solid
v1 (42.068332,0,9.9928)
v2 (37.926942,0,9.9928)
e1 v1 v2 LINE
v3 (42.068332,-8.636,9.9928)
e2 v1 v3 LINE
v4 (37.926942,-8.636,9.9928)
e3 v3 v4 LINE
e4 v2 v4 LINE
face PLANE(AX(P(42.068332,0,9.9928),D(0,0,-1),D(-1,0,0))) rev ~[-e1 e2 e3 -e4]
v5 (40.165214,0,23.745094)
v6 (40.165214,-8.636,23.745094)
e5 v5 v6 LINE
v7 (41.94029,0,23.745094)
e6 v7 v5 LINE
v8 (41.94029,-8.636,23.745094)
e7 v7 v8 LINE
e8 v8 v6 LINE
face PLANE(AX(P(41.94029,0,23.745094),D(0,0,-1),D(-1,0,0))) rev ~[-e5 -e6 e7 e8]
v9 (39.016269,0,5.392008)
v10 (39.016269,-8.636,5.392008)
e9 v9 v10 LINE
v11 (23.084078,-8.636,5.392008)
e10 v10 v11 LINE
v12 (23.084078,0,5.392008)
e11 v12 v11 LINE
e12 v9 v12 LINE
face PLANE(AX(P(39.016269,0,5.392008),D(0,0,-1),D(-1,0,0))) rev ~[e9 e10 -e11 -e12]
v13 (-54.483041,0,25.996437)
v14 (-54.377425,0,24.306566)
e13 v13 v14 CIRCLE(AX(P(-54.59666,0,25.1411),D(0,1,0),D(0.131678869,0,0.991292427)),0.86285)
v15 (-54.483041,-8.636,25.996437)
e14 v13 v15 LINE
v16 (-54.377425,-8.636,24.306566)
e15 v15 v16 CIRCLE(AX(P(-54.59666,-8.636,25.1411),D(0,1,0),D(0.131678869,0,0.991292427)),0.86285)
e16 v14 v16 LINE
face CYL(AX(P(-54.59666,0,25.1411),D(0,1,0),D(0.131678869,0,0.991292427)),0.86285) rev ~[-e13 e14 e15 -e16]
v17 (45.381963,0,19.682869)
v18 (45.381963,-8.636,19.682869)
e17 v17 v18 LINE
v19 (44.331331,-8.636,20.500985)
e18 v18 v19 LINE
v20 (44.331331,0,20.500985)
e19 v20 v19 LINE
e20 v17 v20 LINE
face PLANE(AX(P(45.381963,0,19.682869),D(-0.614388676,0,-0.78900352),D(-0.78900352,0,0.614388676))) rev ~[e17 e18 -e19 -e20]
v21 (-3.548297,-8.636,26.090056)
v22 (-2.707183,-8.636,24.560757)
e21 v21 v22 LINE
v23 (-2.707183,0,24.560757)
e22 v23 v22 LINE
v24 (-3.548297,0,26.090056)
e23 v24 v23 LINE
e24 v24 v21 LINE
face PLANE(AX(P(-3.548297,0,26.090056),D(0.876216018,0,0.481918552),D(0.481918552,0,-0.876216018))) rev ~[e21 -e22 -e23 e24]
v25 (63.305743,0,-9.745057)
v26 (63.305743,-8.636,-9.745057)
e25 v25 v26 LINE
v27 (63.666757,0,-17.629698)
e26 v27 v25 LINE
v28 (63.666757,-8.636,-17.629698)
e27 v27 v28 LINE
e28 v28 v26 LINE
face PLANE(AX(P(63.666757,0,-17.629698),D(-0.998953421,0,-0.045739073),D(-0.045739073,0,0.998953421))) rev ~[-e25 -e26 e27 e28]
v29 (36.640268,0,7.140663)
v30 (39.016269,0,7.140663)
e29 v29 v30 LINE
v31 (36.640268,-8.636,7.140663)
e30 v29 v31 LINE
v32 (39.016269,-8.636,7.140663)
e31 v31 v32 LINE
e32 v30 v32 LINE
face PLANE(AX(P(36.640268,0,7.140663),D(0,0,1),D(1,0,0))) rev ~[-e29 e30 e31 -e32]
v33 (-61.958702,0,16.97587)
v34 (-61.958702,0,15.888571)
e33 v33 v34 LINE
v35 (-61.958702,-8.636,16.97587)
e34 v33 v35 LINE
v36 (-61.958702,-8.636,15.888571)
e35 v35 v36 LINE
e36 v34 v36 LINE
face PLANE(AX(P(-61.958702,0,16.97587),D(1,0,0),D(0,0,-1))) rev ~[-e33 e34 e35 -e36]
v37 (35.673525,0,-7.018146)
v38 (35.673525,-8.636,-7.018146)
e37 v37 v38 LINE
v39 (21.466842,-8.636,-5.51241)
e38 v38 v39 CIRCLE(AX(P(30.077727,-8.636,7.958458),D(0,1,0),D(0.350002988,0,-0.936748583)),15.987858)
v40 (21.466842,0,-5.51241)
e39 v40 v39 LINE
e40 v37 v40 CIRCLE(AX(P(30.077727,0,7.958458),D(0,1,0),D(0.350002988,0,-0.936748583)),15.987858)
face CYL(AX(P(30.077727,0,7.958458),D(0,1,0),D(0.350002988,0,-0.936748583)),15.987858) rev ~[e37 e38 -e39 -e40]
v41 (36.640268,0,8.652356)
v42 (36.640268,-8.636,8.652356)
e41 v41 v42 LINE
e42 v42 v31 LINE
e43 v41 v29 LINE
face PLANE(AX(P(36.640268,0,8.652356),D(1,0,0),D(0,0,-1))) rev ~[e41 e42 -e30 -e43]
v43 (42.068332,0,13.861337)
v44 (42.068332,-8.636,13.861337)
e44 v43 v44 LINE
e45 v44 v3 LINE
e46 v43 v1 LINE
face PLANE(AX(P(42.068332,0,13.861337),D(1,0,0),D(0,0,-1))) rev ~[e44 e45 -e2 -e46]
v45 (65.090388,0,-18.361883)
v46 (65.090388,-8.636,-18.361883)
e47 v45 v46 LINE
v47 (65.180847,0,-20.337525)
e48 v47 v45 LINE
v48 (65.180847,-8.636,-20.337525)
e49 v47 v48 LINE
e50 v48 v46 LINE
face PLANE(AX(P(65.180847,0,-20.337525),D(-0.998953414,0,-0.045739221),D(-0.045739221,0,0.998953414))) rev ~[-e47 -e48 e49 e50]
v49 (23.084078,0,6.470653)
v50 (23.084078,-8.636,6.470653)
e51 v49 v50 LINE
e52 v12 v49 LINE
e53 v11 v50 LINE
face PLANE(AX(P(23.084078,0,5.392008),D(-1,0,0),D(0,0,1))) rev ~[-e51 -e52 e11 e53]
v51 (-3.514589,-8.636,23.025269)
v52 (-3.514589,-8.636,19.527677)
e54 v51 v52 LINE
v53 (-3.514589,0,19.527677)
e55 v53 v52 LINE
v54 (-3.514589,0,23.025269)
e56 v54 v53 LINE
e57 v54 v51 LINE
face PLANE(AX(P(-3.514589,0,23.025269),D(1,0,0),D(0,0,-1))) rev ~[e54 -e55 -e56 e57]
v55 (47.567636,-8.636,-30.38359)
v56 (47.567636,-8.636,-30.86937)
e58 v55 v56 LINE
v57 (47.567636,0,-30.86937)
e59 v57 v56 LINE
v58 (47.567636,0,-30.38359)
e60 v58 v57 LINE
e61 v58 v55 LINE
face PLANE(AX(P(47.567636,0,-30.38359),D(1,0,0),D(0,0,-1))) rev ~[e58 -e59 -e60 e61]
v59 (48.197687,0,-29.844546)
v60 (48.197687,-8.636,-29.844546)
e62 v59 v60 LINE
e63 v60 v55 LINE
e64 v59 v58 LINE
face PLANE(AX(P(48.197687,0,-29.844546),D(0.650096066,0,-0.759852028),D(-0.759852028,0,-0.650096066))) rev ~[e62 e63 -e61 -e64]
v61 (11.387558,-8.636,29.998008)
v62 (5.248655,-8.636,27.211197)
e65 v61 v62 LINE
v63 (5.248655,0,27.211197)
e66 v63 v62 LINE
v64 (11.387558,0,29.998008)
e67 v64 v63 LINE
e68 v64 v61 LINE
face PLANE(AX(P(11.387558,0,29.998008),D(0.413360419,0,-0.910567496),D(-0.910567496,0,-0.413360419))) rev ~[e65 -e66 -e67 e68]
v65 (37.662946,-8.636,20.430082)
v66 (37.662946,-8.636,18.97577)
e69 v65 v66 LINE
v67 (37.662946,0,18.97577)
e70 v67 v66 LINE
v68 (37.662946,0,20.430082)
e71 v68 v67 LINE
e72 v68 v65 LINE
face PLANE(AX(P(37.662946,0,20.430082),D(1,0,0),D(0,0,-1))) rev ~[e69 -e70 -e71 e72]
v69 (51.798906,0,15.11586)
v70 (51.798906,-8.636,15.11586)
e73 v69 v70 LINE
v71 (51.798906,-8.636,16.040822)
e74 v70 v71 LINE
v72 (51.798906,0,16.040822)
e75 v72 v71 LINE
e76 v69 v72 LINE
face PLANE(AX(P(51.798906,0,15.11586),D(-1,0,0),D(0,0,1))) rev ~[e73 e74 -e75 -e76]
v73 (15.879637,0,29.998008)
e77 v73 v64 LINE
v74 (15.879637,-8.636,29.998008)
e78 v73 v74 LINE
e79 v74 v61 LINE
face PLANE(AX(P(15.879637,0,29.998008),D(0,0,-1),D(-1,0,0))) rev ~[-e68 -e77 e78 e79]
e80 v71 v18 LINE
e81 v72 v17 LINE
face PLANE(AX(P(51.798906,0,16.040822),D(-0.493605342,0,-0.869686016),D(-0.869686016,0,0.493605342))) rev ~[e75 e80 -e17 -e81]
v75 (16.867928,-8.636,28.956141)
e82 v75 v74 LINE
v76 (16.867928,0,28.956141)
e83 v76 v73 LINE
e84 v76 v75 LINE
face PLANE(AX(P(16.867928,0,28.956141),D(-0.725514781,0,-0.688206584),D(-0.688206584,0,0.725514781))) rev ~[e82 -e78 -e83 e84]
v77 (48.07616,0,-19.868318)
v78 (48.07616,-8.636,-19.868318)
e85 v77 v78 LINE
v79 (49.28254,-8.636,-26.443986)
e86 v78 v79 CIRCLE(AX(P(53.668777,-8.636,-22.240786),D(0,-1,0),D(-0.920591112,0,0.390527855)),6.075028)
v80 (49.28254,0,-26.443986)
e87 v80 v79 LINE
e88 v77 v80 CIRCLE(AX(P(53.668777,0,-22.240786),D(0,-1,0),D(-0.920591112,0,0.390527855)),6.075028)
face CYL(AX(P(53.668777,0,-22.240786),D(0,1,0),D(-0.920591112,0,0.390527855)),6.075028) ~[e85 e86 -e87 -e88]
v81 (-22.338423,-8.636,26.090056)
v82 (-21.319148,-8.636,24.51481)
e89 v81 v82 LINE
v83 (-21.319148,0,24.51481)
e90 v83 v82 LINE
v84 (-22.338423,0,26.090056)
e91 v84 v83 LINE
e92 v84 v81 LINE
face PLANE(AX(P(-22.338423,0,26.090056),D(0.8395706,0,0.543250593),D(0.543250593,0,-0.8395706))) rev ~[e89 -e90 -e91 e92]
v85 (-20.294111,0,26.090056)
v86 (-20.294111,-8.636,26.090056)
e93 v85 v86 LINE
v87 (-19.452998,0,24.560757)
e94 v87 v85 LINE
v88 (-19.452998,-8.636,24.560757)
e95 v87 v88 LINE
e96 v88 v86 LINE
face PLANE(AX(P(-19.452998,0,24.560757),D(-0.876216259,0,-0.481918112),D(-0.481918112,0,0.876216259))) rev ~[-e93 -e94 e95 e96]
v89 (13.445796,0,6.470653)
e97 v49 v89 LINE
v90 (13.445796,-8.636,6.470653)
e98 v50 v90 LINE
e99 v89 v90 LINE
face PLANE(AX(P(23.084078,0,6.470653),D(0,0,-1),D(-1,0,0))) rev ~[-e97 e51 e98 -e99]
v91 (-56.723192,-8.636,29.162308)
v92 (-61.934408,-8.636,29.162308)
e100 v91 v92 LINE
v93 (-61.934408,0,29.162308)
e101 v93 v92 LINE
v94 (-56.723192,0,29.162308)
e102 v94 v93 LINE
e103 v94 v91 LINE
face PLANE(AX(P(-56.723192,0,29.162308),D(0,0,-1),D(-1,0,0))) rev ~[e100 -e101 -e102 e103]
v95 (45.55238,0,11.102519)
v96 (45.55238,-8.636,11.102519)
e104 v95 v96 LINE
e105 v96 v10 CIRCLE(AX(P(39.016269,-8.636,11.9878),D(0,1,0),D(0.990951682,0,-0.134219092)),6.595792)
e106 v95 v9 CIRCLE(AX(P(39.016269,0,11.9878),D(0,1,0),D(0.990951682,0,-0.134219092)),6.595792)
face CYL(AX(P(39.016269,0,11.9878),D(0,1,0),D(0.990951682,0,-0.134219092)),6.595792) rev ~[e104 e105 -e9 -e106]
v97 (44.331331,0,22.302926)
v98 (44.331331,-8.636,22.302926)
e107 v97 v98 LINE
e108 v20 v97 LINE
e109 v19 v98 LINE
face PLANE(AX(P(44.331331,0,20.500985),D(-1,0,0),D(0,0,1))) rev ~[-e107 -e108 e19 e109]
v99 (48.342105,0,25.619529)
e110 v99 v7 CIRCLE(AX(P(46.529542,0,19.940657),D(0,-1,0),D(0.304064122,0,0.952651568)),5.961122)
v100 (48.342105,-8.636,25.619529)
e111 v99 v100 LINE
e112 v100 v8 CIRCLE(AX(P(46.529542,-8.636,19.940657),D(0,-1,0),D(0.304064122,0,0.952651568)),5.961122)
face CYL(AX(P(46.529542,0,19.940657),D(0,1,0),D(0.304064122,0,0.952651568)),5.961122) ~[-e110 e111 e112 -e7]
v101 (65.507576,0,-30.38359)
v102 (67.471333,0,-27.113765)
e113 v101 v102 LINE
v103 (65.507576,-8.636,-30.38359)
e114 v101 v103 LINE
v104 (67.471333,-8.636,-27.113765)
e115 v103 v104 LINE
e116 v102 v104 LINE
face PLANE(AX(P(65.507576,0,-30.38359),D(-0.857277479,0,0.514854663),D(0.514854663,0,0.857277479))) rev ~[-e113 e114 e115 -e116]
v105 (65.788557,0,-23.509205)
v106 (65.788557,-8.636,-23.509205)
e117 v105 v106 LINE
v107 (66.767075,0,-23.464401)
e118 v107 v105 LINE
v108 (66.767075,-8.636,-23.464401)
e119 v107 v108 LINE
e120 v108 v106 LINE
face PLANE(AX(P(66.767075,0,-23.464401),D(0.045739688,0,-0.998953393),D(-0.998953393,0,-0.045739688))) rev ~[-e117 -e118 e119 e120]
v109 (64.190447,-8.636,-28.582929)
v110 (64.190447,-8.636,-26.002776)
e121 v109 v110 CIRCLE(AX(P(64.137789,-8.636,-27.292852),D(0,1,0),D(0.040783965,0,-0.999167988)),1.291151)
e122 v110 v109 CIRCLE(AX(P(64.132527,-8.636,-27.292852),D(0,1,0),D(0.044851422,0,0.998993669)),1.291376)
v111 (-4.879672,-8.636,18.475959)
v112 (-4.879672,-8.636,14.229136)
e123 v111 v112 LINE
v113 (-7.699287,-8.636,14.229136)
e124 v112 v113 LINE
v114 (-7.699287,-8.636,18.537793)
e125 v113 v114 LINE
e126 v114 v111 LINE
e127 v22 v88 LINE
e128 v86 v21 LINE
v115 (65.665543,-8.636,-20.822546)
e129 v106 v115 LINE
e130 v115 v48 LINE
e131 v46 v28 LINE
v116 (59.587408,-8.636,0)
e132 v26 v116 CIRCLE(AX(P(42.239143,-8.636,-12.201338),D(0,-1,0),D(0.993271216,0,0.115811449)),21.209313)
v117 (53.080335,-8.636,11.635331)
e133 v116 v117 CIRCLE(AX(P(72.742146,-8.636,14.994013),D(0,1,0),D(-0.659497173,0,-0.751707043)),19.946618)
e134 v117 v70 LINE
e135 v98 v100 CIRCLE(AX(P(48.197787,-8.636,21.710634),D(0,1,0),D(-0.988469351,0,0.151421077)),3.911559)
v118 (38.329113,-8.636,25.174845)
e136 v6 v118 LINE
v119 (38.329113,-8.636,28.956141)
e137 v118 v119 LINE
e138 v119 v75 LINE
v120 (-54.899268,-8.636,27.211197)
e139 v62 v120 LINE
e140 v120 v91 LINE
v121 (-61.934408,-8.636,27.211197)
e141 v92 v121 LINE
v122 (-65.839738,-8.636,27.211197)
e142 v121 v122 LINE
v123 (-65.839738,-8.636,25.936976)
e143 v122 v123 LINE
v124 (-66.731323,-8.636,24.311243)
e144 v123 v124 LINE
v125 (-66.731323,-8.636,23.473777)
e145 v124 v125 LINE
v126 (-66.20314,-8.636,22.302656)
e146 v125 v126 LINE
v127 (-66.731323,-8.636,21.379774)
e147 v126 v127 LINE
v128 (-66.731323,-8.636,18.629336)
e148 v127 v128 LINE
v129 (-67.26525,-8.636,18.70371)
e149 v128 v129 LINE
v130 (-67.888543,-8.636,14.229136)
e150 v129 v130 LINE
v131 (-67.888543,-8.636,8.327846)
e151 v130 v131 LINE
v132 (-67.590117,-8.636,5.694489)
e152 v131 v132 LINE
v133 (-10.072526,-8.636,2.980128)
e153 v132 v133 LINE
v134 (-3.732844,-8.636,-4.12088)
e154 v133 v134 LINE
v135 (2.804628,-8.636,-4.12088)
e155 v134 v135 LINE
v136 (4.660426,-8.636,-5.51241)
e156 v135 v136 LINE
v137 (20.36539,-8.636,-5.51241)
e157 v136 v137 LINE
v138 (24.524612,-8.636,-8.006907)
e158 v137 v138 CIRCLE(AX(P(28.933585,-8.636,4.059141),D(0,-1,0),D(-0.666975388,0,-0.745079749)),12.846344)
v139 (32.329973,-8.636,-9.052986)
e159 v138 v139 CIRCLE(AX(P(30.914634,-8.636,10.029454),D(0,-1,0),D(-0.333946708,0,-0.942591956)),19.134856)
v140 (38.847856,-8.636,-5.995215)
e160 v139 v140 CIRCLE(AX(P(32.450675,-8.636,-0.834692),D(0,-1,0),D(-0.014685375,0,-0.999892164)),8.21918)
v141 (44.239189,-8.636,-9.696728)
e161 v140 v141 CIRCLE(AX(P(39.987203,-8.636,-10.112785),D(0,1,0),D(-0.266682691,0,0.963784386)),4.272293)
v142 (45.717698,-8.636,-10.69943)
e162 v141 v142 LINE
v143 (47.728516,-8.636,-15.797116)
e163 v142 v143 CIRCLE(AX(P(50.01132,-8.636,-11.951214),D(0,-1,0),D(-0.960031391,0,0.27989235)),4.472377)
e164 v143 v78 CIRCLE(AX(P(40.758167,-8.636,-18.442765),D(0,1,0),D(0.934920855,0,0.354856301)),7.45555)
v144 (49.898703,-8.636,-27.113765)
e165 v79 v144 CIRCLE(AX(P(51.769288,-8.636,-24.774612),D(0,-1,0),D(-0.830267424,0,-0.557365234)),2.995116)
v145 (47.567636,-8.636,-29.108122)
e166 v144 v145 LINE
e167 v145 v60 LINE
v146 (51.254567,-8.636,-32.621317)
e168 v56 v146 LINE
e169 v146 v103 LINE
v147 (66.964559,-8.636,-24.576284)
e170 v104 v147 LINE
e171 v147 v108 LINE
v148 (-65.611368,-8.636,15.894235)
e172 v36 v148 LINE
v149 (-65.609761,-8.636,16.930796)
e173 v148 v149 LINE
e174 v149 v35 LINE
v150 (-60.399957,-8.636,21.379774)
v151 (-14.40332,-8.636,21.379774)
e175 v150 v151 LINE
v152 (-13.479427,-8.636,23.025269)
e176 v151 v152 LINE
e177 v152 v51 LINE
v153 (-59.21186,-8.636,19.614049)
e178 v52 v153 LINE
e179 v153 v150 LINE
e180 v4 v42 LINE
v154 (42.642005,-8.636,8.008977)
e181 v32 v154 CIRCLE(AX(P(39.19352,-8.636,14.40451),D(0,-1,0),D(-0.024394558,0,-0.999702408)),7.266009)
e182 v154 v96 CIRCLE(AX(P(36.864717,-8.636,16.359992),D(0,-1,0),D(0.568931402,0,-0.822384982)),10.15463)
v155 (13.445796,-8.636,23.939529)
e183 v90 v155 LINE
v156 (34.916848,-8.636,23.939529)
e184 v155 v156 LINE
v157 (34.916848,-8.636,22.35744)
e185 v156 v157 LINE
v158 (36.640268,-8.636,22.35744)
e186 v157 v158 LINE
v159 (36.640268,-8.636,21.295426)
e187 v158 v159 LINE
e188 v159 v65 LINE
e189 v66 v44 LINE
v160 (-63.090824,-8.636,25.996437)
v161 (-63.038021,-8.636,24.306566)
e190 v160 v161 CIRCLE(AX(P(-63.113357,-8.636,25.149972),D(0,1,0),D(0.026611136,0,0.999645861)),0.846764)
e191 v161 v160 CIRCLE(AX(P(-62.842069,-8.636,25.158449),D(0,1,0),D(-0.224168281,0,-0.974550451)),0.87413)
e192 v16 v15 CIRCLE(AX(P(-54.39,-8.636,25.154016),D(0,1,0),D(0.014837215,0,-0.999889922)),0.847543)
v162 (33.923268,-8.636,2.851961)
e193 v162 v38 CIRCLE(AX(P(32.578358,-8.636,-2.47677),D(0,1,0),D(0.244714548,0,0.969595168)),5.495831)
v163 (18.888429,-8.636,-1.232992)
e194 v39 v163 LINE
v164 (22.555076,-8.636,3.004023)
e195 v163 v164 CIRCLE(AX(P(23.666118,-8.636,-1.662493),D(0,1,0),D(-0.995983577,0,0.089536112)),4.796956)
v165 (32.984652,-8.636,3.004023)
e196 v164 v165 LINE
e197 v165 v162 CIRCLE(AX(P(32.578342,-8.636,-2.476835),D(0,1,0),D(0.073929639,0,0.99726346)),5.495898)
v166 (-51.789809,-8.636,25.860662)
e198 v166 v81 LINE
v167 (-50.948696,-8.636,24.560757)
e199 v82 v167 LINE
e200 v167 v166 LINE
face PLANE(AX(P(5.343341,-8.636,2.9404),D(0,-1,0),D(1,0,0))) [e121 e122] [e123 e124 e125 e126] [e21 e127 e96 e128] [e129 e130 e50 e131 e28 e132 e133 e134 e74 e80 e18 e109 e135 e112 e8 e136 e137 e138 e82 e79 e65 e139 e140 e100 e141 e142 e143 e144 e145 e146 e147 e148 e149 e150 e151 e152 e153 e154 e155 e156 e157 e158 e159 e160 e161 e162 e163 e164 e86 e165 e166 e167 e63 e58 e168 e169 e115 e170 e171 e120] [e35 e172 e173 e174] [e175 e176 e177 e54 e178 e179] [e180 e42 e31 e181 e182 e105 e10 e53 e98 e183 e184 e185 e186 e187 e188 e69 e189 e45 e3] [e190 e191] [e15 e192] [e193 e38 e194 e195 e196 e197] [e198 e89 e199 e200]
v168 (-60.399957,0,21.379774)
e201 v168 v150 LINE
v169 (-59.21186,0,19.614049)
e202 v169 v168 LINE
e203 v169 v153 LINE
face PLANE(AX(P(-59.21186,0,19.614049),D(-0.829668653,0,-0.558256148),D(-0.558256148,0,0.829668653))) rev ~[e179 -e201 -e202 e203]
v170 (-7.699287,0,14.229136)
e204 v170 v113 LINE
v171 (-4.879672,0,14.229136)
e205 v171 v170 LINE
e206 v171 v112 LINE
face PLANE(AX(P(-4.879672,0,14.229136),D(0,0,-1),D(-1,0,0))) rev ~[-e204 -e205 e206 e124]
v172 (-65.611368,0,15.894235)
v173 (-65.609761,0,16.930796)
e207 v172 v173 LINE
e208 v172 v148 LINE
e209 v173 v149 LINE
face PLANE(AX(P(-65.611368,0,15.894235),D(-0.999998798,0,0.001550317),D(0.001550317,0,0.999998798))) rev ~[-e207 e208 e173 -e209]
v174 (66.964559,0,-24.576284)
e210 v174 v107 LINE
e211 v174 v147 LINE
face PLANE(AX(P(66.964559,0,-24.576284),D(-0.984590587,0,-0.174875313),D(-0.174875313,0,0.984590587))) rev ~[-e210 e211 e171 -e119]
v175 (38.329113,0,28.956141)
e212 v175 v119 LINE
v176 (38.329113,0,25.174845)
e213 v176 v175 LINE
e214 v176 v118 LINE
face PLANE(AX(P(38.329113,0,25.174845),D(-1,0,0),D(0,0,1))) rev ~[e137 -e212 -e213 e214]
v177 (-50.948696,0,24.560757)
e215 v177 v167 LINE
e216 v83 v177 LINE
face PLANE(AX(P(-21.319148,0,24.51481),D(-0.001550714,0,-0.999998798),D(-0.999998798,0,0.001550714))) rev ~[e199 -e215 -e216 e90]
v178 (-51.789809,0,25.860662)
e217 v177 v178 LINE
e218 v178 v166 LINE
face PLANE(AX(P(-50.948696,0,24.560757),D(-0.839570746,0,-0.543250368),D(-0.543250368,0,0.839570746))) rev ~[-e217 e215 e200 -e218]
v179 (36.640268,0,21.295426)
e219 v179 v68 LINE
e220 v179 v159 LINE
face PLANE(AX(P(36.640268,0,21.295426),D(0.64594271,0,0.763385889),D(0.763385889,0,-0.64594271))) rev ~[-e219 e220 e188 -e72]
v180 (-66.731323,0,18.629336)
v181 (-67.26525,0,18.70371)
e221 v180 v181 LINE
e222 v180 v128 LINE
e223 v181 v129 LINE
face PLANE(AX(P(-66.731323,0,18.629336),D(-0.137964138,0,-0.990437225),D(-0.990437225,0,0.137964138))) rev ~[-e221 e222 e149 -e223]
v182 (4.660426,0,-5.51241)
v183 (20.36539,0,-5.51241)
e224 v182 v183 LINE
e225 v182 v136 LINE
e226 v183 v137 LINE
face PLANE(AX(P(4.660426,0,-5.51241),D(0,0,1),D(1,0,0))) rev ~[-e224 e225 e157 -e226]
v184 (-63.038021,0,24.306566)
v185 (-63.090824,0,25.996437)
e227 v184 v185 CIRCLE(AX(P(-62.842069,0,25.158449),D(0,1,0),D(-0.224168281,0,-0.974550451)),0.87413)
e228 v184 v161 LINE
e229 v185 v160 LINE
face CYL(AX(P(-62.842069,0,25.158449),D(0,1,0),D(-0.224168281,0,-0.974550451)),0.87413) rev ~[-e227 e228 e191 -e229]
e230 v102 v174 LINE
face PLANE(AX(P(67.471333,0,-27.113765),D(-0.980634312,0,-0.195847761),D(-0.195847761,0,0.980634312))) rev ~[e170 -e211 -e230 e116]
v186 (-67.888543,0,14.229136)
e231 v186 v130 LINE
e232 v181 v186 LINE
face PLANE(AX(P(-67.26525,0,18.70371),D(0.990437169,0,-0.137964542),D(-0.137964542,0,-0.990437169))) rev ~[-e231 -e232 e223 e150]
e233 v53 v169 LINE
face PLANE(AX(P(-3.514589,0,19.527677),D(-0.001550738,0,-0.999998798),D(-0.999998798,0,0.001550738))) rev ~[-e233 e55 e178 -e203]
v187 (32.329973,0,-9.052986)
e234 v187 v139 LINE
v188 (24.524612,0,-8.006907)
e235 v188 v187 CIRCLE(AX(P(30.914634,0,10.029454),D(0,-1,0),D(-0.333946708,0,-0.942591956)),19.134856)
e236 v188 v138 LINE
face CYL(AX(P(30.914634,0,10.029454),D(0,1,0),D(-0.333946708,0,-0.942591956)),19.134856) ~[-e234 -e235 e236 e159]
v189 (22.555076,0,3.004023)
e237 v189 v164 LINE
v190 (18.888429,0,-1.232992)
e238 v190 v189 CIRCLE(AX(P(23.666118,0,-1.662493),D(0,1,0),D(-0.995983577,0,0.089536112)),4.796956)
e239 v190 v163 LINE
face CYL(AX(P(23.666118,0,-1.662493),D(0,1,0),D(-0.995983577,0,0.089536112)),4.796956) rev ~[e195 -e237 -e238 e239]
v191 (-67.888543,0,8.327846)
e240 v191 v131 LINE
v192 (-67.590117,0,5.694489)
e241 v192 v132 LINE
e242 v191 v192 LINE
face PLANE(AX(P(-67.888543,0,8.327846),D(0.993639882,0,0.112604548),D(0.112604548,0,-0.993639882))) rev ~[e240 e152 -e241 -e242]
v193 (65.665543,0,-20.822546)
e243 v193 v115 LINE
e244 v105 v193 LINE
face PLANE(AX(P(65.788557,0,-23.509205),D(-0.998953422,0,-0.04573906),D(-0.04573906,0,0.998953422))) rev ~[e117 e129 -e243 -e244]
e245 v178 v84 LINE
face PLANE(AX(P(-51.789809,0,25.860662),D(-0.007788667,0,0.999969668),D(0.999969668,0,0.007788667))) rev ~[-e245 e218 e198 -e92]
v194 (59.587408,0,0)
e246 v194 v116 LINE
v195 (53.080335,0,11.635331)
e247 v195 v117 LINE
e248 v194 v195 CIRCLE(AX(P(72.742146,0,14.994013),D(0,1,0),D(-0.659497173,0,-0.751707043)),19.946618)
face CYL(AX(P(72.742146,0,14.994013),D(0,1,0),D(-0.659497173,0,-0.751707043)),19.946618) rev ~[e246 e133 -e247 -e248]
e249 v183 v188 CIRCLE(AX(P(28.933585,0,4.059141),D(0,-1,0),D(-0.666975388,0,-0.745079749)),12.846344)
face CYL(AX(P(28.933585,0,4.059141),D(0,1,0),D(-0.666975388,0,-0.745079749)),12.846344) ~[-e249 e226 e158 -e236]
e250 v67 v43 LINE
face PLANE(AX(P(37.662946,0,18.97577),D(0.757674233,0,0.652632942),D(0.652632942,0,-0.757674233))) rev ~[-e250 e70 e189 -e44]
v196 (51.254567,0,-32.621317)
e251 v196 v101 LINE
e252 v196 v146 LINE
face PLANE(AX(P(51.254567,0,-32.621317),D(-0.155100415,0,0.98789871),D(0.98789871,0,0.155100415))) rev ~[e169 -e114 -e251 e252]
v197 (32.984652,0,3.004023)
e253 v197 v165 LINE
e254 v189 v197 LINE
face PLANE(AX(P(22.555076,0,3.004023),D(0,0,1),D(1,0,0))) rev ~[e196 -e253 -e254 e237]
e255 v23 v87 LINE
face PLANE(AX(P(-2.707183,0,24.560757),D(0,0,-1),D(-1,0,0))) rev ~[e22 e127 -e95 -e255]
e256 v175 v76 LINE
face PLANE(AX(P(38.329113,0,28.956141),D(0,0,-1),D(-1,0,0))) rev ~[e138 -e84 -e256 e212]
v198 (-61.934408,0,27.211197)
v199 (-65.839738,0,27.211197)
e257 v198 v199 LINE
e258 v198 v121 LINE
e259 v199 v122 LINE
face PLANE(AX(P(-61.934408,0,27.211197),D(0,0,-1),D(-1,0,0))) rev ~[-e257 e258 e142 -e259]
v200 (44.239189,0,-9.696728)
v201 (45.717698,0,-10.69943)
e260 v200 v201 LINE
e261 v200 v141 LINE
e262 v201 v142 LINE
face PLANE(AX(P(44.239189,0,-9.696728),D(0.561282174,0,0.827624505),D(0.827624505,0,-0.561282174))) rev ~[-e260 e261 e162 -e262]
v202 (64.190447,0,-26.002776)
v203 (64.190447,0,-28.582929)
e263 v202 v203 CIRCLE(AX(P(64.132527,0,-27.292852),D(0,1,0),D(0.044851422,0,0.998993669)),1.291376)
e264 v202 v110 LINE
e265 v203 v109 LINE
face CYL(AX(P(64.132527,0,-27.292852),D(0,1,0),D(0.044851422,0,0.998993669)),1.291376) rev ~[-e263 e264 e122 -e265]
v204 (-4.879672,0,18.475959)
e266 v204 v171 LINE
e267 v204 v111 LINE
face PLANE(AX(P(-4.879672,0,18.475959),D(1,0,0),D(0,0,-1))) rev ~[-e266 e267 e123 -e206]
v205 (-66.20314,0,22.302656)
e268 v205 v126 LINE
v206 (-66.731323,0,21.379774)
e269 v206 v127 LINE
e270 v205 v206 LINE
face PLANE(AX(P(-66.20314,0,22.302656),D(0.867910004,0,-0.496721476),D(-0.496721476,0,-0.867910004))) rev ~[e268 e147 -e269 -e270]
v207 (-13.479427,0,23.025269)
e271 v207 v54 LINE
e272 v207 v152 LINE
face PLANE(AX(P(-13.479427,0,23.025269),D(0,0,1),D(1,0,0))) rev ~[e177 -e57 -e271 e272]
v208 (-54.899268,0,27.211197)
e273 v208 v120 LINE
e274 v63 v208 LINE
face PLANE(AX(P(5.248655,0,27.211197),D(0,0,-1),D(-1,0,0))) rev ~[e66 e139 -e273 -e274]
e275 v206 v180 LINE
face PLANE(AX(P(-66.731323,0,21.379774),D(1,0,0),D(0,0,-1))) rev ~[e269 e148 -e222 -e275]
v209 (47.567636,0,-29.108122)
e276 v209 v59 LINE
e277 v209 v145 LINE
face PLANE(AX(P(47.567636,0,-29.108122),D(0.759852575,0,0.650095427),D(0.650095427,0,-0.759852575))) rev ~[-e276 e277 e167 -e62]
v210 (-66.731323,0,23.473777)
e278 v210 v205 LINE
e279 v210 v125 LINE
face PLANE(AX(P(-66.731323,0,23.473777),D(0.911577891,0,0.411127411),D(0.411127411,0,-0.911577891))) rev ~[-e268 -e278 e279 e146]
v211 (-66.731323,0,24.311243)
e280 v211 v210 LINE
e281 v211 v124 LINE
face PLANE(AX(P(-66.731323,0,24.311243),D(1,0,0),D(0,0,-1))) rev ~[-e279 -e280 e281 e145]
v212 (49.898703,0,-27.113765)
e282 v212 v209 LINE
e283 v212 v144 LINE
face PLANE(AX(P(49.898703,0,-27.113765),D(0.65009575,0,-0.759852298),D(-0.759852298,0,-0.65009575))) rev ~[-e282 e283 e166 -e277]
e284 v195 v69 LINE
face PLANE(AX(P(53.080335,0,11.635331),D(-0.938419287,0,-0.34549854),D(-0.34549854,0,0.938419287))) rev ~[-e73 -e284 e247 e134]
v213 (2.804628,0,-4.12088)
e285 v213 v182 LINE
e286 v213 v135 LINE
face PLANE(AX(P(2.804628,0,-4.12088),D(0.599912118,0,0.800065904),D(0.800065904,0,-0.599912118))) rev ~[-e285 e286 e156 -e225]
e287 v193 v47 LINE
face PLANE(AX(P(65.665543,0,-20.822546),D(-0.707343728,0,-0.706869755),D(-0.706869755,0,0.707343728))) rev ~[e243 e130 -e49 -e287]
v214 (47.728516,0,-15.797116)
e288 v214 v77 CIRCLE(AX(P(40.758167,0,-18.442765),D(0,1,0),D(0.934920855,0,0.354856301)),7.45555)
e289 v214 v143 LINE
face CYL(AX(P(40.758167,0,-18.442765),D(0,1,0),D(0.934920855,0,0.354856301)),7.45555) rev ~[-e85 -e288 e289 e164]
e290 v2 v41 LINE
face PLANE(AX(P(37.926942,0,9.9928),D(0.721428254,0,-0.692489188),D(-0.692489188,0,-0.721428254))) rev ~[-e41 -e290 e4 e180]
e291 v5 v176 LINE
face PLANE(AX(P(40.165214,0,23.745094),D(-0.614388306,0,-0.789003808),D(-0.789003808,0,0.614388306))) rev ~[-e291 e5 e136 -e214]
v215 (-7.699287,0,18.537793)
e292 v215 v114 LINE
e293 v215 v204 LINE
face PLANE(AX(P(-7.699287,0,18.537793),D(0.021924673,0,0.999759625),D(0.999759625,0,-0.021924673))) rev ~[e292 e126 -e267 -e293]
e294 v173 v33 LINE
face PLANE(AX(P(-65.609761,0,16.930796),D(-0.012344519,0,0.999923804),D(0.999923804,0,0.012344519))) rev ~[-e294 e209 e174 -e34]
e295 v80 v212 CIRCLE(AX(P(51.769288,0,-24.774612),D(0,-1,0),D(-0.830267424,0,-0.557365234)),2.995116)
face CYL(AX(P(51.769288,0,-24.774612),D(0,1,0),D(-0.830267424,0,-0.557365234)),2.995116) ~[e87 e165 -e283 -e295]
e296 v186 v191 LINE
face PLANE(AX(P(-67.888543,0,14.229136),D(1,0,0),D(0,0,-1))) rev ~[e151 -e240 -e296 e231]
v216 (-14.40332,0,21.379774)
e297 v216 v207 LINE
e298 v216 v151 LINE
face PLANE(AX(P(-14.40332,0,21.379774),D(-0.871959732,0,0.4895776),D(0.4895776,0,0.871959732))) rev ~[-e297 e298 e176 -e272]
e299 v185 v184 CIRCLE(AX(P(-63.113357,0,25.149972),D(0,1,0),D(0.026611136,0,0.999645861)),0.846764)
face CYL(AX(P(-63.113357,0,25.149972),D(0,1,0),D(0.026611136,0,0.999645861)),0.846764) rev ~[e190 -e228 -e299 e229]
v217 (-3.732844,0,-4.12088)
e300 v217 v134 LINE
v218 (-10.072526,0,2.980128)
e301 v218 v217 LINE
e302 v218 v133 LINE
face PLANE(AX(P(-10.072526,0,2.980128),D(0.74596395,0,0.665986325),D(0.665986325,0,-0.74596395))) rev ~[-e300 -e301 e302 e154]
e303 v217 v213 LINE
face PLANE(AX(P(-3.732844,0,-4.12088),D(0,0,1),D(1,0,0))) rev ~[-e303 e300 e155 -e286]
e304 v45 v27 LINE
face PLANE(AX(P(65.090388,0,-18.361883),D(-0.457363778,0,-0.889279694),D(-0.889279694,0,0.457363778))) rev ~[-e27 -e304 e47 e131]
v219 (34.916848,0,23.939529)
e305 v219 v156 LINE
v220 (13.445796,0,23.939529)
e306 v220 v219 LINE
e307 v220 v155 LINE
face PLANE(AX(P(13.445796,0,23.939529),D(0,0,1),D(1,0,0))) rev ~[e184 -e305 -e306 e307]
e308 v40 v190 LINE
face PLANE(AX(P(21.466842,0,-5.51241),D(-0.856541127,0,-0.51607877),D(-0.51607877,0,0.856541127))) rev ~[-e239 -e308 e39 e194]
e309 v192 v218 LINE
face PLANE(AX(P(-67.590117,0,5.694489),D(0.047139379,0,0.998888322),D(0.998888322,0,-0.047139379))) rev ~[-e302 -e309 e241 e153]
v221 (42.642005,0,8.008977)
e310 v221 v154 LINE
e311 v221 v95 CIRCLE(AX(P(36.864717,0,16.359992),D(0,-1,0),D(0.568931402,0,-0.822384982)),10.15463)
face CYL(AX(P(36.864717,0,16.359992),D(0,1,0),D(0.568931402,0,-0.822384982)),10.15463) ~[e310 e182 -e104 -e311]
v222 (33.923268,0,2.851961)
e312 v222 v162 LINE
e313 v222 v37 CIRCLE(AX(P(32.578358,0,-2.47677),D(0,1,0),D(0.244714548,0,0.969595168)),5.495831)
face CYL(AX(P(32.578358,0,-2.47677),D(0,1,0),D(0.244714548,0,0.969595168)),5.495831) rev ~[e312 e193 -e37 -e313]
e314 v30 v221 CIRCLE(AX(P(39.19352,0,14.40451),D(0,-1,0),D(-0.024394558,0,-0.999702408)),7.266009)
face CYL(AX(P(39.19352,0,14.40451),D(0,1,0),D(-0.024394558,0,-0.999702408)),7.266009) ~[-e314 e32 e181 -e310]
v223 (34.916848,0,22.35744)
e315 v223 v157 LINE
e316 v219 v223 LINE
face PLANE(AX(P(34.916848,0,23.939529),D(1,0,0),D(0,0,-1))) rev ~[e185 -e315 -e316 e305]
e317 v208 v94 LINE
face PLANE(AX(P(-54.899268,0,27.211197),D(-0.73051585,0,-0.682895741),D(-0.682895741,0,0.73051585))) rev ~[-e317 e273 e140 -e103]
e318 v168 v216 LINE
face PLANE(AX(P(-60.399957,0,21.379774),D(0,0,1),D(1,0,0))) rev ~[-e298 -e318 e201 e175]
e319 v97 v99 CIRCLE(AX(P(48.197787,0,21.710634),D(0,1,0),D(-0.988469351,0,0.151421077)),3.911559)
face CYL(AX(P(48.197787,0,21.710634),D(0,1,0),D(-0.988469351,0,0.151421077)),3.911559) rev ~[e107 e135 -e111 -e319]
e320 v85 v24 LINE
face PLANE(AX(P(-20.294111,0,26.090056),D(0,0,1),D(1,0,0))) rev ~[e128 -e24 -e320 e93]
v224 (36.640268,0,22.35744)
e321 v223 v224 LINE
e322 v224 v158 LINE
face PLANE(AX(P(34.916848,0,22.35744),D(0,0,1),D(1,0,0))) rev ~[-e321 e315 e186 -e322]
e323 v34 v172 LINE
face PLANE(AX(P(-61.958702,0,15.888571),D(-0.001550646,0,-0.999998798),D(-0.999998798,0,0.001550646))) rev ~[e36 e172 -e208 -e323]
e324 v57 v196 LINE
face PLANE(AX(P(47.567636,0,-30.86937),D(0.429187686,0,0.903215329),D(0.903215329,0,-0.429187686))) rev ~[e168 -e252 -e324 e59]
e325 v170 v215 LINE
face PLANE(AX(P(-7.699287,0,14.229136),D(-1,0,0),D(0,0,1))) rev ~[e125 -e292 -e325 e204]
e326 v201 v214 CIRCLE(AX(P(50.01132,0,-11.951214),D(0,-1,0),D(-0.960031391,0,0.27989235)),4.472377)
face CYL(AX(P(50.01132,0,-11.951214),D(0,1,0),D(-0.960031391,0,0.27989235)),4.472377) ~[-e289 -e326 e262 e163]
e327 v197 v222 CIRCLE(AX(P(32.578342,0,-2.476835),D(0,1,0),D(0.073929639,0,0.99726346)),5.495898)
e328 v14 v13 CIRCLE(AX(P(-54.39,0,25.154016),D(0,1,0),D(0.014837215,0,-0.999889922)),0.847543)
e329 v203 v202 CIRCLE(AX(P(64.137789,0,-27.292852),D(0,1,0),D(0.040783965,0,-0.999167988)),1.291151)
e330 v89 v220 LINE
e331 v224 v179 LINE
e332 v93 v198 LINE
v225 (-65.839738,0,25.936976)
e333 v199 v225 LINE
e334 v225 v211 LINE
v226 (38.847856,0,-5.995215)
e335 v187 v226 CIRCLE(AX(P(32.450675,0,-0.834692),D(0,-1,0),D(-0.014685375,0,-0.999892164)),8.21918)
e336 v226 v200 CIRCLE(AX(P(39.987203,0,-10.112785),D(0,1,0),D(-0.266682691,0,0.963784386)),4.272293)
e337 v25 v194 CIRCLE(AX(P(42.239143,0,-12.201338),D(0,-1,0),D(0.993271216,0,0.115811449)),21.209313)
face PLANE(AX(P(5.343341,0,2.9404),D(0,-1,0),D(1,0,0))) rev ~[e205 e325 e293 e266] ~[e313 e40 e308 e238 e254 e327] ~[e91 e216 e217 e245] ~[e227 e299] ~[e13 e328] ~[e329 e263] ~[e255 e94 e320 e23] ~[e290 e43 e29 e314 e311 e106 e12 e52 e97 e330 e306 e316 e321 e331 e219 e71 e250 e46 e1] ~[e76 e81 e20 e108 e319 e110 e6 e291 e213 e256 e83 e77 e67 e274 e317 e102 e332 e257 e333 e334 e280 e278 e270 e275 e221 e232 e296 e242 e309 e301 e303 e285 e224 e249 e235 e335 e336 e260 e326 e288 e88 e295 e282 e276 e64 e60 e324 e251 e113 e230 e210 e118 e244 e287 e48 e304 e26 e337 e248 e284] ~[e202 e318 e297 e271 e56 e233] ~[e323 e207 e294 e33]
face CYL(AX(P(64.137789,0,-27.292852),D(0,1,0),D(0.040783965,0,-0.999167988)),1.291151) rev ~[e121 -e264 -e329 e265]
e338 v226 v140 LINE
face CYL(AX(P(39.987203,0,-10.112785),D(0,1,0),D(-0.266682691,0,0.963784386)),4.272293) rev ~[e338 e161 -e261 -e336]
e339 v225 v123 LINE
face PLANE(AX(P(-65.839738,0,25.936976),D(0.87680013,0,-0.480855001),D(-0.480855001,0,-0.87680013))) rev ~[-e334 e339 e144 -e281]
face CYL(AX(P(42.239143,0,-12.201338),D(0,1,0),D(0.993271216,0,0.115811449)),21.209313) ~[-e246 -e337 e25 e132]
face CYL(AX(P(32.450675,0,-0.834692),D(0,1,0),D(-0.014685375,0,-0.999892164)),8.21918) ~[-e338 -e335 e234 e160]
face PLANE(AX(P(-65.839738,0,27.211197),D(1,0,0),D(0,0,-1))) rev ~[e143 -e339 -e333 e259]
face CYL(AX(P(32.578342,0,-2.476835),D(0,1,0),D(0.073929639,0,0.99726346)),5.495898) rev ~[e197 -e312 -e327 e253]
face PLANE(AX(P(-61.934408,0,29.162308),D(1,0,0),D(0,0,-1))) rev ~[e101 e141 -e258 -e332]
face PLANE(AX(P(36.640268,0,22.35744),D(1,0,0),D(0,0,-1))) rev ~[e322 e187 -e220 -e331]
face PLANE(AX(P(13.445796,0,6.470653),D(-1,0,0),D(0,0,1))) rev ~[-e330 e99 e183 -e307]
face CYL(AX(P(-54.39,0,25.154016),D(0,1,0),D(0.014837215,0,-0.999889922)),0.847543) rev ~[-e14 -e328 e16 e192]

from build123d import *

# Parameters (mm, degrees)
F1_DEPTH = 8.636


with BuildPart() as f1:
    # F0 (on Front) → F1 (new body)
    with BuildSketch(Plane.XZ):
        with BuildLine():
            Line((-67.888543, 14.229136), (-67.888543, 8.327846))
            Line((-67.888543, 8.327846), (-67.590117, 5.694489))
            Line((-67.590117, 5.694489), (-10.072526, 2.980128))
            Line((-10.072526, 2.980128), (-3.732844, -4.12088))
            Line((-3.732844, -4.12088), (2.804628, -4.12088))
            Line((2.804628, -4.12088), (4.660426, -5.51241))
            Line((4.660426, -5.51241), (20.36539, -5.51241))
            ThreePointArc((20.36539, -5.51241), (22.326214, -6.957719), (24.524612, -8.006907))
            ThreePointArc((24.524612, -8.006907), (28.372895, -8.935837), (32.329973, -9.052986))
            ThreePointArc((32.329973, -9.052986), (35.941526, -8.275719), (38.847856, -5.995215))
            ThreePointArc((38.847856, -5.995215), (42.405349, -6.590703), (44.239189, -9.696728))
            Line((44.239189, -9.696728), (45.717698, -10.69943))
            ThreePointArc((45.717698, -10.69943), (45.850918, -13.592314), (47.728516, -15.797116))
            ThreePointArc((47.728516, -15.797116), (48.186683, -17.808436), (48.07616, -19.868318))
            ThreePointArc((48.07616, -19.868318), (47.693475, -23.337022), (49.28254, -26.443986))
            ThreePointArc((49.28254, -26.443986), (49.565033, -26.802415), (49.898703, -27.113765))
            Line((49.898703, -27.113765), (63.92391, -23.246003))
            Line((63.92391, -23.246003), (63.666757, -17.629698))
            Line((63.666757, -17.629698), (63.305743, -9.745057))
            ThreePointArc((63.305743, -9.745057), (62.05497, -4.640389), (59.587408, 0))
            ThreePointArc((59.587408, 0), (55.333048, 5.257953), (53.080335, 11.635331))
            Line((53.080335, 11.635331), (51.798906, 15.11586))
            Line((51.798906, 15.11586), (46.942841, 15.11586))
            ThreePointArc((46.942841, 15.11586), (46.45979, 13.035678), (45.55238, 11.102519))
            ThreePointArc((45.55238, 11.102519), (43.355932, 7.020729), (39.016269, 5.392008))
            Line((39.016269, 5.392008), (23.084078, 5.392008))
            Line((23.084078, 5.392008), (23.084078, 6.470653))
            Line((23.084078, 6.470653), (15.109499, 6.470653))
            Line((15.109499, 6.470653), (13.445796, 6.470653))
            Line((13.445796, 6.470653), (13.445796, 11.590629))
            Line((13.445796, 11.590629), (13.445796, 18.615682))
            Line((13.445796, 18.615682), (7.789209, 18.615682))
            Line((7.789209, 18.615682), (-7.699287, 18.537793))
            Line((-7.699287, 18.537793), (-4.879672, 18.475959))
            Line((-4.879672, 18.475959), (-4.879672, 14.229136))
            Line((-4.879672, 14.229136), (-7.699287, 14.229136))
            Line((-7.699287, 14.229136), (-67.888543, 14.229136))
        make_face()
        with BuildLine():
            ThreePointArc((18.888429, -1.232992), (20.03881, 1.476523), (22.555076, 3.004023))
            Line((22.555076, 3.004023), (28.890261, 3.004023))
            Line((28.890261, 3.004023), (32.984652, 3.004023))
            ThreePointArc((32.984652, 3.004023), (33.457255, 2.948329), (33.923268, 2.851961))
            ThreePointArc((33.923268, 2.851961), (37.989765, -1.51717), (35.673525, -7.018146))
            ThreePointArc((35.673525, -7.018146), (28.392646, -7.940351), (21.466842, -5.51241))
            Line((21.466842, -5.51241), (18.888429, -1.232992))
        make_face(mode=Mode.SUBTRACT)
        Polygon((-67.26525, 18.70371), (-67.888543, 14.229136), (-7.699287, 14.229136), (-7.699287, 18.537793), (-66.731323, 18.629336), align=None)
        Polygon((-65.611368, 15.894235), (-65.609761, 16.930796), (-61.958702, 16.97587), (-61.958702, 15.888571), align=None, mode=Mode.SUBTRACT)
        Polygon((-66.731323, 21.379774), (-66.731323, 18.629336), (-7.699287, 18.537793), (7.789209, 18.615682), (13.445796, 18.615682), (13.445796, 20.43255), (13.445796, 23.939529), (11.8609, 24.011148), (10.443351, 22.458594), (3.288107, 22.458594), (2.613084, 23.025269), (-3.514589, 23.025269), (-3.514589, 19.527677), (-59.21186, 19.614049), (-60.399957, 21.379774), align=None)
        Polygon((-66.20314, 22.302656), (-66.731323, 21.379774), (-60.399957, 21.379774), (-14.40332, 21.379774), (-13.479427, 23.025269), (-3.514589, 23.025269), (2.613084, 23.025269), (2.580326, 23.198023), (-17.181331, 23.198023), (-17.794525, 22.302656), align=None)
        with BuildLine():
            Line((-66.731323, 23.473777), (-66.20314, 22.302656))
            Line((-66.20314, 22.302656), (-17.794525, 22.302656))
            Line((-17.794525, 22.302656), (-17.181331, 23.198023))
            Line((-17.181331, 23.198023), (2.580326, 23.198023))
            Line((2.580326, 23.198023), (2.613084, 23.025269))
            Line((2.613084, 23.025269), (3.288107, 22.458594))
            Line((3.288107, 22.458594), (10.443351, 22.458594))
            Line((10.443351, 22.458594), (11.8609, 24.011148))
            Line((11.8609, 24.011148), (13.445796, 23.939529))
            Line((13.445796, 23.939529), (34.916848, 23.939529))
            Line((34.916848, 23.939529), (34.916848, 22.35744))
            Line((34.916848, 22.35744), (36.640268, 22.35744))
            Line((36.640268, 22.35744), (36.640268, 21.295426))
            Line((36.640268, 21.295426), (37.662946, 20.430082))
            Line((37.662946, 20.430082), (37.662946, 18.97577))
            Line((37.662946, 18.97577), (42.068332, 13.861337))
            Line((42.068332, 13.861337), (42.068332, 9.9928))
            Line((42.068332, 9.9928), (37.926942, 9.9928))
            Line((37.926942, 9.9928), (36.640268, 8.652356))
            Line((36.640268, 8.652356), (36.640268, 7.140663))
            Line((36.640268, 7.140663), (39.016269, 7.140663))
            ThreePointArc((39.016269, 7.140663), (40.885778, 7.338312), (42.642005, 8.008977))
            ThreePointArc((42.642005, 8.008977), (44.260743, 9.401881), (45.55238, 11.102519))
            ThreePointArc((45.55238, 11.102519), (46.45979, 13.035678), (46.942841, 15.11586))
            Line((46.942841, 15.11586), (51.798906, 15.11586))
            Line((51.798906, 15.11586), (51.798906, 16.040822))
            Line((51.798906, 16.040822), (45.381963, 19.682869))
            Line((45.381963, 19.682869), (42.202402, 18.006373))
            Line((42.202402, 18.006373), (40.930577, 18.006373))
            Line((40.930577, 18.006373), (38.329113, 19.682869))
            Line((38.329113, 19.682869), (38.329113, 25.174845))
            Line((38.329113, 25.174845), (38.329113, 28.956141))
            Line((38.329113, 28.956141), (16.867928, 28.956141))
            Line((16.867928, 28.956141), (15.879637, 29.998008))
            Line((15.879637, 29.998008), (15.187833, 29.998008))
            Line((15.187833, 29.998008), (11.387558, 29.998008))
            Line((11.387558, 29.998008), (5.248655, 27.211197))
            Line((5.248655, 27.211197), (-54.899268, 27.211197))
            Line((-54.899268, 27.211197), (-61.934408, 27.211197))
            Line((-61.934408, 27.211197), (-65.839738, 27.211197))
            Line((-65.839738, 27.211197), (-65.839738, 25.936976))
            Line((-65.839738, 25.936976), (-66.731323, 24.311243))
            Line((-66.731323, 24.311243), (-66.731323, 23.473777))
        make_face()
        with BuildLine():
            ThreePointArc((-63.038021, 24.306566), (-63.715772, 25.131149), (-63.090824, 25.996437))
            ThreePointArc((-63.090824, 25.996437), (-62.267006, 25.176418), (-63.038021, 24.306566))
        make_face(mode=Mode.SUBTRACT)
        with BuildLine():
            ThreePointArc((-54.377425, 24.306566), (-55.235893, 25.101148), (-54.483041, 25.996437))
            ThreePointArc((-54.483041, 25.996437), (-53.73549, 25.194922), (-54.377425, 24.306566))
        make_face(mode=Mode.SUBTRACT)
        Polygon((-50.948696, 24.560757), (-51.789809, 25.860662), (-22.338423, 26.090056), (-21.319148, 24.51481), align=None, mode=Mode.SUBTRACT)
        Polygon((-2.707183, 24.560757), (-19.452998, 24.560757), (-20.294111, 26.090056), (-3.548297, 26.090056), align=None, mode=Mode.SUBTRACT)
        Polygon((-61.934408, 29.162308), (-61.934408, 27.211197), (-54.899268, 27.211197), (-56.723192, 29.162308), align=None)
        Polygon((63.92391, -23.246003), (49.898703, -27.113765), (47.567636, -29.108122), (48.197687, -29.844546), (47.567636, -30.38359), (60.629882, -27.680274), (61.969539, -25.573865), (66.964559, -24.576284), (66.767075, -23.464401), (65.788557, -23.509205), (65.665543, -20.822546), (65.180847, -20.337525), (65.090388, -18.361883), (63.666757, -17.629698), align=None)
        Polygon((42.202402, 18.006373), (45.381963, 19.682869), (44.331331, 20.500985), (40.165214, 23.745094), (38.329113, 25.174845), (38.329113, 19.682869), (40.930577, 18.006373), align=None)
        with BuildLine():
            Line((40.165214, 23.745094), (44.331331, 20.500985))
            Line((44.331331, 20.500985), (44.331331, 22.302926))
            ThreePointArc((44.331331, 22.302926), (45.705089, 24.725057), (48.342105, 25.619529))
            ThreePointArc((48.342105, 25.619529), (44.854467, 25.661592), (41.94029, 23.745094))
            Line((41.94029, 23.745094), (40.165214, 23.745094))
        make_face()
        Polygon((60.629882, -27.680274), (47.567636, -30.38359), (47.567636, -30.86937), (51.254567, -32.621317), (65.507576, -30.38359), (67.471333, -27.113765), (66.964559, -24.576284), (61.969539, -25.573865), align=None)
        with BuildLine():
            ThreePointArc((64.190447, -28.582929), (62.846638, -27.292852), (64.190447, -26.002776))
            ThreePointArc((64.190447, -26.002776), (65.423903, -27.292852), (64.190447, -28.582929))
        make_face(mode=Mode.SUBTRACT)
    extrude(amount=F1_DEPTH)


solid = f1.part
